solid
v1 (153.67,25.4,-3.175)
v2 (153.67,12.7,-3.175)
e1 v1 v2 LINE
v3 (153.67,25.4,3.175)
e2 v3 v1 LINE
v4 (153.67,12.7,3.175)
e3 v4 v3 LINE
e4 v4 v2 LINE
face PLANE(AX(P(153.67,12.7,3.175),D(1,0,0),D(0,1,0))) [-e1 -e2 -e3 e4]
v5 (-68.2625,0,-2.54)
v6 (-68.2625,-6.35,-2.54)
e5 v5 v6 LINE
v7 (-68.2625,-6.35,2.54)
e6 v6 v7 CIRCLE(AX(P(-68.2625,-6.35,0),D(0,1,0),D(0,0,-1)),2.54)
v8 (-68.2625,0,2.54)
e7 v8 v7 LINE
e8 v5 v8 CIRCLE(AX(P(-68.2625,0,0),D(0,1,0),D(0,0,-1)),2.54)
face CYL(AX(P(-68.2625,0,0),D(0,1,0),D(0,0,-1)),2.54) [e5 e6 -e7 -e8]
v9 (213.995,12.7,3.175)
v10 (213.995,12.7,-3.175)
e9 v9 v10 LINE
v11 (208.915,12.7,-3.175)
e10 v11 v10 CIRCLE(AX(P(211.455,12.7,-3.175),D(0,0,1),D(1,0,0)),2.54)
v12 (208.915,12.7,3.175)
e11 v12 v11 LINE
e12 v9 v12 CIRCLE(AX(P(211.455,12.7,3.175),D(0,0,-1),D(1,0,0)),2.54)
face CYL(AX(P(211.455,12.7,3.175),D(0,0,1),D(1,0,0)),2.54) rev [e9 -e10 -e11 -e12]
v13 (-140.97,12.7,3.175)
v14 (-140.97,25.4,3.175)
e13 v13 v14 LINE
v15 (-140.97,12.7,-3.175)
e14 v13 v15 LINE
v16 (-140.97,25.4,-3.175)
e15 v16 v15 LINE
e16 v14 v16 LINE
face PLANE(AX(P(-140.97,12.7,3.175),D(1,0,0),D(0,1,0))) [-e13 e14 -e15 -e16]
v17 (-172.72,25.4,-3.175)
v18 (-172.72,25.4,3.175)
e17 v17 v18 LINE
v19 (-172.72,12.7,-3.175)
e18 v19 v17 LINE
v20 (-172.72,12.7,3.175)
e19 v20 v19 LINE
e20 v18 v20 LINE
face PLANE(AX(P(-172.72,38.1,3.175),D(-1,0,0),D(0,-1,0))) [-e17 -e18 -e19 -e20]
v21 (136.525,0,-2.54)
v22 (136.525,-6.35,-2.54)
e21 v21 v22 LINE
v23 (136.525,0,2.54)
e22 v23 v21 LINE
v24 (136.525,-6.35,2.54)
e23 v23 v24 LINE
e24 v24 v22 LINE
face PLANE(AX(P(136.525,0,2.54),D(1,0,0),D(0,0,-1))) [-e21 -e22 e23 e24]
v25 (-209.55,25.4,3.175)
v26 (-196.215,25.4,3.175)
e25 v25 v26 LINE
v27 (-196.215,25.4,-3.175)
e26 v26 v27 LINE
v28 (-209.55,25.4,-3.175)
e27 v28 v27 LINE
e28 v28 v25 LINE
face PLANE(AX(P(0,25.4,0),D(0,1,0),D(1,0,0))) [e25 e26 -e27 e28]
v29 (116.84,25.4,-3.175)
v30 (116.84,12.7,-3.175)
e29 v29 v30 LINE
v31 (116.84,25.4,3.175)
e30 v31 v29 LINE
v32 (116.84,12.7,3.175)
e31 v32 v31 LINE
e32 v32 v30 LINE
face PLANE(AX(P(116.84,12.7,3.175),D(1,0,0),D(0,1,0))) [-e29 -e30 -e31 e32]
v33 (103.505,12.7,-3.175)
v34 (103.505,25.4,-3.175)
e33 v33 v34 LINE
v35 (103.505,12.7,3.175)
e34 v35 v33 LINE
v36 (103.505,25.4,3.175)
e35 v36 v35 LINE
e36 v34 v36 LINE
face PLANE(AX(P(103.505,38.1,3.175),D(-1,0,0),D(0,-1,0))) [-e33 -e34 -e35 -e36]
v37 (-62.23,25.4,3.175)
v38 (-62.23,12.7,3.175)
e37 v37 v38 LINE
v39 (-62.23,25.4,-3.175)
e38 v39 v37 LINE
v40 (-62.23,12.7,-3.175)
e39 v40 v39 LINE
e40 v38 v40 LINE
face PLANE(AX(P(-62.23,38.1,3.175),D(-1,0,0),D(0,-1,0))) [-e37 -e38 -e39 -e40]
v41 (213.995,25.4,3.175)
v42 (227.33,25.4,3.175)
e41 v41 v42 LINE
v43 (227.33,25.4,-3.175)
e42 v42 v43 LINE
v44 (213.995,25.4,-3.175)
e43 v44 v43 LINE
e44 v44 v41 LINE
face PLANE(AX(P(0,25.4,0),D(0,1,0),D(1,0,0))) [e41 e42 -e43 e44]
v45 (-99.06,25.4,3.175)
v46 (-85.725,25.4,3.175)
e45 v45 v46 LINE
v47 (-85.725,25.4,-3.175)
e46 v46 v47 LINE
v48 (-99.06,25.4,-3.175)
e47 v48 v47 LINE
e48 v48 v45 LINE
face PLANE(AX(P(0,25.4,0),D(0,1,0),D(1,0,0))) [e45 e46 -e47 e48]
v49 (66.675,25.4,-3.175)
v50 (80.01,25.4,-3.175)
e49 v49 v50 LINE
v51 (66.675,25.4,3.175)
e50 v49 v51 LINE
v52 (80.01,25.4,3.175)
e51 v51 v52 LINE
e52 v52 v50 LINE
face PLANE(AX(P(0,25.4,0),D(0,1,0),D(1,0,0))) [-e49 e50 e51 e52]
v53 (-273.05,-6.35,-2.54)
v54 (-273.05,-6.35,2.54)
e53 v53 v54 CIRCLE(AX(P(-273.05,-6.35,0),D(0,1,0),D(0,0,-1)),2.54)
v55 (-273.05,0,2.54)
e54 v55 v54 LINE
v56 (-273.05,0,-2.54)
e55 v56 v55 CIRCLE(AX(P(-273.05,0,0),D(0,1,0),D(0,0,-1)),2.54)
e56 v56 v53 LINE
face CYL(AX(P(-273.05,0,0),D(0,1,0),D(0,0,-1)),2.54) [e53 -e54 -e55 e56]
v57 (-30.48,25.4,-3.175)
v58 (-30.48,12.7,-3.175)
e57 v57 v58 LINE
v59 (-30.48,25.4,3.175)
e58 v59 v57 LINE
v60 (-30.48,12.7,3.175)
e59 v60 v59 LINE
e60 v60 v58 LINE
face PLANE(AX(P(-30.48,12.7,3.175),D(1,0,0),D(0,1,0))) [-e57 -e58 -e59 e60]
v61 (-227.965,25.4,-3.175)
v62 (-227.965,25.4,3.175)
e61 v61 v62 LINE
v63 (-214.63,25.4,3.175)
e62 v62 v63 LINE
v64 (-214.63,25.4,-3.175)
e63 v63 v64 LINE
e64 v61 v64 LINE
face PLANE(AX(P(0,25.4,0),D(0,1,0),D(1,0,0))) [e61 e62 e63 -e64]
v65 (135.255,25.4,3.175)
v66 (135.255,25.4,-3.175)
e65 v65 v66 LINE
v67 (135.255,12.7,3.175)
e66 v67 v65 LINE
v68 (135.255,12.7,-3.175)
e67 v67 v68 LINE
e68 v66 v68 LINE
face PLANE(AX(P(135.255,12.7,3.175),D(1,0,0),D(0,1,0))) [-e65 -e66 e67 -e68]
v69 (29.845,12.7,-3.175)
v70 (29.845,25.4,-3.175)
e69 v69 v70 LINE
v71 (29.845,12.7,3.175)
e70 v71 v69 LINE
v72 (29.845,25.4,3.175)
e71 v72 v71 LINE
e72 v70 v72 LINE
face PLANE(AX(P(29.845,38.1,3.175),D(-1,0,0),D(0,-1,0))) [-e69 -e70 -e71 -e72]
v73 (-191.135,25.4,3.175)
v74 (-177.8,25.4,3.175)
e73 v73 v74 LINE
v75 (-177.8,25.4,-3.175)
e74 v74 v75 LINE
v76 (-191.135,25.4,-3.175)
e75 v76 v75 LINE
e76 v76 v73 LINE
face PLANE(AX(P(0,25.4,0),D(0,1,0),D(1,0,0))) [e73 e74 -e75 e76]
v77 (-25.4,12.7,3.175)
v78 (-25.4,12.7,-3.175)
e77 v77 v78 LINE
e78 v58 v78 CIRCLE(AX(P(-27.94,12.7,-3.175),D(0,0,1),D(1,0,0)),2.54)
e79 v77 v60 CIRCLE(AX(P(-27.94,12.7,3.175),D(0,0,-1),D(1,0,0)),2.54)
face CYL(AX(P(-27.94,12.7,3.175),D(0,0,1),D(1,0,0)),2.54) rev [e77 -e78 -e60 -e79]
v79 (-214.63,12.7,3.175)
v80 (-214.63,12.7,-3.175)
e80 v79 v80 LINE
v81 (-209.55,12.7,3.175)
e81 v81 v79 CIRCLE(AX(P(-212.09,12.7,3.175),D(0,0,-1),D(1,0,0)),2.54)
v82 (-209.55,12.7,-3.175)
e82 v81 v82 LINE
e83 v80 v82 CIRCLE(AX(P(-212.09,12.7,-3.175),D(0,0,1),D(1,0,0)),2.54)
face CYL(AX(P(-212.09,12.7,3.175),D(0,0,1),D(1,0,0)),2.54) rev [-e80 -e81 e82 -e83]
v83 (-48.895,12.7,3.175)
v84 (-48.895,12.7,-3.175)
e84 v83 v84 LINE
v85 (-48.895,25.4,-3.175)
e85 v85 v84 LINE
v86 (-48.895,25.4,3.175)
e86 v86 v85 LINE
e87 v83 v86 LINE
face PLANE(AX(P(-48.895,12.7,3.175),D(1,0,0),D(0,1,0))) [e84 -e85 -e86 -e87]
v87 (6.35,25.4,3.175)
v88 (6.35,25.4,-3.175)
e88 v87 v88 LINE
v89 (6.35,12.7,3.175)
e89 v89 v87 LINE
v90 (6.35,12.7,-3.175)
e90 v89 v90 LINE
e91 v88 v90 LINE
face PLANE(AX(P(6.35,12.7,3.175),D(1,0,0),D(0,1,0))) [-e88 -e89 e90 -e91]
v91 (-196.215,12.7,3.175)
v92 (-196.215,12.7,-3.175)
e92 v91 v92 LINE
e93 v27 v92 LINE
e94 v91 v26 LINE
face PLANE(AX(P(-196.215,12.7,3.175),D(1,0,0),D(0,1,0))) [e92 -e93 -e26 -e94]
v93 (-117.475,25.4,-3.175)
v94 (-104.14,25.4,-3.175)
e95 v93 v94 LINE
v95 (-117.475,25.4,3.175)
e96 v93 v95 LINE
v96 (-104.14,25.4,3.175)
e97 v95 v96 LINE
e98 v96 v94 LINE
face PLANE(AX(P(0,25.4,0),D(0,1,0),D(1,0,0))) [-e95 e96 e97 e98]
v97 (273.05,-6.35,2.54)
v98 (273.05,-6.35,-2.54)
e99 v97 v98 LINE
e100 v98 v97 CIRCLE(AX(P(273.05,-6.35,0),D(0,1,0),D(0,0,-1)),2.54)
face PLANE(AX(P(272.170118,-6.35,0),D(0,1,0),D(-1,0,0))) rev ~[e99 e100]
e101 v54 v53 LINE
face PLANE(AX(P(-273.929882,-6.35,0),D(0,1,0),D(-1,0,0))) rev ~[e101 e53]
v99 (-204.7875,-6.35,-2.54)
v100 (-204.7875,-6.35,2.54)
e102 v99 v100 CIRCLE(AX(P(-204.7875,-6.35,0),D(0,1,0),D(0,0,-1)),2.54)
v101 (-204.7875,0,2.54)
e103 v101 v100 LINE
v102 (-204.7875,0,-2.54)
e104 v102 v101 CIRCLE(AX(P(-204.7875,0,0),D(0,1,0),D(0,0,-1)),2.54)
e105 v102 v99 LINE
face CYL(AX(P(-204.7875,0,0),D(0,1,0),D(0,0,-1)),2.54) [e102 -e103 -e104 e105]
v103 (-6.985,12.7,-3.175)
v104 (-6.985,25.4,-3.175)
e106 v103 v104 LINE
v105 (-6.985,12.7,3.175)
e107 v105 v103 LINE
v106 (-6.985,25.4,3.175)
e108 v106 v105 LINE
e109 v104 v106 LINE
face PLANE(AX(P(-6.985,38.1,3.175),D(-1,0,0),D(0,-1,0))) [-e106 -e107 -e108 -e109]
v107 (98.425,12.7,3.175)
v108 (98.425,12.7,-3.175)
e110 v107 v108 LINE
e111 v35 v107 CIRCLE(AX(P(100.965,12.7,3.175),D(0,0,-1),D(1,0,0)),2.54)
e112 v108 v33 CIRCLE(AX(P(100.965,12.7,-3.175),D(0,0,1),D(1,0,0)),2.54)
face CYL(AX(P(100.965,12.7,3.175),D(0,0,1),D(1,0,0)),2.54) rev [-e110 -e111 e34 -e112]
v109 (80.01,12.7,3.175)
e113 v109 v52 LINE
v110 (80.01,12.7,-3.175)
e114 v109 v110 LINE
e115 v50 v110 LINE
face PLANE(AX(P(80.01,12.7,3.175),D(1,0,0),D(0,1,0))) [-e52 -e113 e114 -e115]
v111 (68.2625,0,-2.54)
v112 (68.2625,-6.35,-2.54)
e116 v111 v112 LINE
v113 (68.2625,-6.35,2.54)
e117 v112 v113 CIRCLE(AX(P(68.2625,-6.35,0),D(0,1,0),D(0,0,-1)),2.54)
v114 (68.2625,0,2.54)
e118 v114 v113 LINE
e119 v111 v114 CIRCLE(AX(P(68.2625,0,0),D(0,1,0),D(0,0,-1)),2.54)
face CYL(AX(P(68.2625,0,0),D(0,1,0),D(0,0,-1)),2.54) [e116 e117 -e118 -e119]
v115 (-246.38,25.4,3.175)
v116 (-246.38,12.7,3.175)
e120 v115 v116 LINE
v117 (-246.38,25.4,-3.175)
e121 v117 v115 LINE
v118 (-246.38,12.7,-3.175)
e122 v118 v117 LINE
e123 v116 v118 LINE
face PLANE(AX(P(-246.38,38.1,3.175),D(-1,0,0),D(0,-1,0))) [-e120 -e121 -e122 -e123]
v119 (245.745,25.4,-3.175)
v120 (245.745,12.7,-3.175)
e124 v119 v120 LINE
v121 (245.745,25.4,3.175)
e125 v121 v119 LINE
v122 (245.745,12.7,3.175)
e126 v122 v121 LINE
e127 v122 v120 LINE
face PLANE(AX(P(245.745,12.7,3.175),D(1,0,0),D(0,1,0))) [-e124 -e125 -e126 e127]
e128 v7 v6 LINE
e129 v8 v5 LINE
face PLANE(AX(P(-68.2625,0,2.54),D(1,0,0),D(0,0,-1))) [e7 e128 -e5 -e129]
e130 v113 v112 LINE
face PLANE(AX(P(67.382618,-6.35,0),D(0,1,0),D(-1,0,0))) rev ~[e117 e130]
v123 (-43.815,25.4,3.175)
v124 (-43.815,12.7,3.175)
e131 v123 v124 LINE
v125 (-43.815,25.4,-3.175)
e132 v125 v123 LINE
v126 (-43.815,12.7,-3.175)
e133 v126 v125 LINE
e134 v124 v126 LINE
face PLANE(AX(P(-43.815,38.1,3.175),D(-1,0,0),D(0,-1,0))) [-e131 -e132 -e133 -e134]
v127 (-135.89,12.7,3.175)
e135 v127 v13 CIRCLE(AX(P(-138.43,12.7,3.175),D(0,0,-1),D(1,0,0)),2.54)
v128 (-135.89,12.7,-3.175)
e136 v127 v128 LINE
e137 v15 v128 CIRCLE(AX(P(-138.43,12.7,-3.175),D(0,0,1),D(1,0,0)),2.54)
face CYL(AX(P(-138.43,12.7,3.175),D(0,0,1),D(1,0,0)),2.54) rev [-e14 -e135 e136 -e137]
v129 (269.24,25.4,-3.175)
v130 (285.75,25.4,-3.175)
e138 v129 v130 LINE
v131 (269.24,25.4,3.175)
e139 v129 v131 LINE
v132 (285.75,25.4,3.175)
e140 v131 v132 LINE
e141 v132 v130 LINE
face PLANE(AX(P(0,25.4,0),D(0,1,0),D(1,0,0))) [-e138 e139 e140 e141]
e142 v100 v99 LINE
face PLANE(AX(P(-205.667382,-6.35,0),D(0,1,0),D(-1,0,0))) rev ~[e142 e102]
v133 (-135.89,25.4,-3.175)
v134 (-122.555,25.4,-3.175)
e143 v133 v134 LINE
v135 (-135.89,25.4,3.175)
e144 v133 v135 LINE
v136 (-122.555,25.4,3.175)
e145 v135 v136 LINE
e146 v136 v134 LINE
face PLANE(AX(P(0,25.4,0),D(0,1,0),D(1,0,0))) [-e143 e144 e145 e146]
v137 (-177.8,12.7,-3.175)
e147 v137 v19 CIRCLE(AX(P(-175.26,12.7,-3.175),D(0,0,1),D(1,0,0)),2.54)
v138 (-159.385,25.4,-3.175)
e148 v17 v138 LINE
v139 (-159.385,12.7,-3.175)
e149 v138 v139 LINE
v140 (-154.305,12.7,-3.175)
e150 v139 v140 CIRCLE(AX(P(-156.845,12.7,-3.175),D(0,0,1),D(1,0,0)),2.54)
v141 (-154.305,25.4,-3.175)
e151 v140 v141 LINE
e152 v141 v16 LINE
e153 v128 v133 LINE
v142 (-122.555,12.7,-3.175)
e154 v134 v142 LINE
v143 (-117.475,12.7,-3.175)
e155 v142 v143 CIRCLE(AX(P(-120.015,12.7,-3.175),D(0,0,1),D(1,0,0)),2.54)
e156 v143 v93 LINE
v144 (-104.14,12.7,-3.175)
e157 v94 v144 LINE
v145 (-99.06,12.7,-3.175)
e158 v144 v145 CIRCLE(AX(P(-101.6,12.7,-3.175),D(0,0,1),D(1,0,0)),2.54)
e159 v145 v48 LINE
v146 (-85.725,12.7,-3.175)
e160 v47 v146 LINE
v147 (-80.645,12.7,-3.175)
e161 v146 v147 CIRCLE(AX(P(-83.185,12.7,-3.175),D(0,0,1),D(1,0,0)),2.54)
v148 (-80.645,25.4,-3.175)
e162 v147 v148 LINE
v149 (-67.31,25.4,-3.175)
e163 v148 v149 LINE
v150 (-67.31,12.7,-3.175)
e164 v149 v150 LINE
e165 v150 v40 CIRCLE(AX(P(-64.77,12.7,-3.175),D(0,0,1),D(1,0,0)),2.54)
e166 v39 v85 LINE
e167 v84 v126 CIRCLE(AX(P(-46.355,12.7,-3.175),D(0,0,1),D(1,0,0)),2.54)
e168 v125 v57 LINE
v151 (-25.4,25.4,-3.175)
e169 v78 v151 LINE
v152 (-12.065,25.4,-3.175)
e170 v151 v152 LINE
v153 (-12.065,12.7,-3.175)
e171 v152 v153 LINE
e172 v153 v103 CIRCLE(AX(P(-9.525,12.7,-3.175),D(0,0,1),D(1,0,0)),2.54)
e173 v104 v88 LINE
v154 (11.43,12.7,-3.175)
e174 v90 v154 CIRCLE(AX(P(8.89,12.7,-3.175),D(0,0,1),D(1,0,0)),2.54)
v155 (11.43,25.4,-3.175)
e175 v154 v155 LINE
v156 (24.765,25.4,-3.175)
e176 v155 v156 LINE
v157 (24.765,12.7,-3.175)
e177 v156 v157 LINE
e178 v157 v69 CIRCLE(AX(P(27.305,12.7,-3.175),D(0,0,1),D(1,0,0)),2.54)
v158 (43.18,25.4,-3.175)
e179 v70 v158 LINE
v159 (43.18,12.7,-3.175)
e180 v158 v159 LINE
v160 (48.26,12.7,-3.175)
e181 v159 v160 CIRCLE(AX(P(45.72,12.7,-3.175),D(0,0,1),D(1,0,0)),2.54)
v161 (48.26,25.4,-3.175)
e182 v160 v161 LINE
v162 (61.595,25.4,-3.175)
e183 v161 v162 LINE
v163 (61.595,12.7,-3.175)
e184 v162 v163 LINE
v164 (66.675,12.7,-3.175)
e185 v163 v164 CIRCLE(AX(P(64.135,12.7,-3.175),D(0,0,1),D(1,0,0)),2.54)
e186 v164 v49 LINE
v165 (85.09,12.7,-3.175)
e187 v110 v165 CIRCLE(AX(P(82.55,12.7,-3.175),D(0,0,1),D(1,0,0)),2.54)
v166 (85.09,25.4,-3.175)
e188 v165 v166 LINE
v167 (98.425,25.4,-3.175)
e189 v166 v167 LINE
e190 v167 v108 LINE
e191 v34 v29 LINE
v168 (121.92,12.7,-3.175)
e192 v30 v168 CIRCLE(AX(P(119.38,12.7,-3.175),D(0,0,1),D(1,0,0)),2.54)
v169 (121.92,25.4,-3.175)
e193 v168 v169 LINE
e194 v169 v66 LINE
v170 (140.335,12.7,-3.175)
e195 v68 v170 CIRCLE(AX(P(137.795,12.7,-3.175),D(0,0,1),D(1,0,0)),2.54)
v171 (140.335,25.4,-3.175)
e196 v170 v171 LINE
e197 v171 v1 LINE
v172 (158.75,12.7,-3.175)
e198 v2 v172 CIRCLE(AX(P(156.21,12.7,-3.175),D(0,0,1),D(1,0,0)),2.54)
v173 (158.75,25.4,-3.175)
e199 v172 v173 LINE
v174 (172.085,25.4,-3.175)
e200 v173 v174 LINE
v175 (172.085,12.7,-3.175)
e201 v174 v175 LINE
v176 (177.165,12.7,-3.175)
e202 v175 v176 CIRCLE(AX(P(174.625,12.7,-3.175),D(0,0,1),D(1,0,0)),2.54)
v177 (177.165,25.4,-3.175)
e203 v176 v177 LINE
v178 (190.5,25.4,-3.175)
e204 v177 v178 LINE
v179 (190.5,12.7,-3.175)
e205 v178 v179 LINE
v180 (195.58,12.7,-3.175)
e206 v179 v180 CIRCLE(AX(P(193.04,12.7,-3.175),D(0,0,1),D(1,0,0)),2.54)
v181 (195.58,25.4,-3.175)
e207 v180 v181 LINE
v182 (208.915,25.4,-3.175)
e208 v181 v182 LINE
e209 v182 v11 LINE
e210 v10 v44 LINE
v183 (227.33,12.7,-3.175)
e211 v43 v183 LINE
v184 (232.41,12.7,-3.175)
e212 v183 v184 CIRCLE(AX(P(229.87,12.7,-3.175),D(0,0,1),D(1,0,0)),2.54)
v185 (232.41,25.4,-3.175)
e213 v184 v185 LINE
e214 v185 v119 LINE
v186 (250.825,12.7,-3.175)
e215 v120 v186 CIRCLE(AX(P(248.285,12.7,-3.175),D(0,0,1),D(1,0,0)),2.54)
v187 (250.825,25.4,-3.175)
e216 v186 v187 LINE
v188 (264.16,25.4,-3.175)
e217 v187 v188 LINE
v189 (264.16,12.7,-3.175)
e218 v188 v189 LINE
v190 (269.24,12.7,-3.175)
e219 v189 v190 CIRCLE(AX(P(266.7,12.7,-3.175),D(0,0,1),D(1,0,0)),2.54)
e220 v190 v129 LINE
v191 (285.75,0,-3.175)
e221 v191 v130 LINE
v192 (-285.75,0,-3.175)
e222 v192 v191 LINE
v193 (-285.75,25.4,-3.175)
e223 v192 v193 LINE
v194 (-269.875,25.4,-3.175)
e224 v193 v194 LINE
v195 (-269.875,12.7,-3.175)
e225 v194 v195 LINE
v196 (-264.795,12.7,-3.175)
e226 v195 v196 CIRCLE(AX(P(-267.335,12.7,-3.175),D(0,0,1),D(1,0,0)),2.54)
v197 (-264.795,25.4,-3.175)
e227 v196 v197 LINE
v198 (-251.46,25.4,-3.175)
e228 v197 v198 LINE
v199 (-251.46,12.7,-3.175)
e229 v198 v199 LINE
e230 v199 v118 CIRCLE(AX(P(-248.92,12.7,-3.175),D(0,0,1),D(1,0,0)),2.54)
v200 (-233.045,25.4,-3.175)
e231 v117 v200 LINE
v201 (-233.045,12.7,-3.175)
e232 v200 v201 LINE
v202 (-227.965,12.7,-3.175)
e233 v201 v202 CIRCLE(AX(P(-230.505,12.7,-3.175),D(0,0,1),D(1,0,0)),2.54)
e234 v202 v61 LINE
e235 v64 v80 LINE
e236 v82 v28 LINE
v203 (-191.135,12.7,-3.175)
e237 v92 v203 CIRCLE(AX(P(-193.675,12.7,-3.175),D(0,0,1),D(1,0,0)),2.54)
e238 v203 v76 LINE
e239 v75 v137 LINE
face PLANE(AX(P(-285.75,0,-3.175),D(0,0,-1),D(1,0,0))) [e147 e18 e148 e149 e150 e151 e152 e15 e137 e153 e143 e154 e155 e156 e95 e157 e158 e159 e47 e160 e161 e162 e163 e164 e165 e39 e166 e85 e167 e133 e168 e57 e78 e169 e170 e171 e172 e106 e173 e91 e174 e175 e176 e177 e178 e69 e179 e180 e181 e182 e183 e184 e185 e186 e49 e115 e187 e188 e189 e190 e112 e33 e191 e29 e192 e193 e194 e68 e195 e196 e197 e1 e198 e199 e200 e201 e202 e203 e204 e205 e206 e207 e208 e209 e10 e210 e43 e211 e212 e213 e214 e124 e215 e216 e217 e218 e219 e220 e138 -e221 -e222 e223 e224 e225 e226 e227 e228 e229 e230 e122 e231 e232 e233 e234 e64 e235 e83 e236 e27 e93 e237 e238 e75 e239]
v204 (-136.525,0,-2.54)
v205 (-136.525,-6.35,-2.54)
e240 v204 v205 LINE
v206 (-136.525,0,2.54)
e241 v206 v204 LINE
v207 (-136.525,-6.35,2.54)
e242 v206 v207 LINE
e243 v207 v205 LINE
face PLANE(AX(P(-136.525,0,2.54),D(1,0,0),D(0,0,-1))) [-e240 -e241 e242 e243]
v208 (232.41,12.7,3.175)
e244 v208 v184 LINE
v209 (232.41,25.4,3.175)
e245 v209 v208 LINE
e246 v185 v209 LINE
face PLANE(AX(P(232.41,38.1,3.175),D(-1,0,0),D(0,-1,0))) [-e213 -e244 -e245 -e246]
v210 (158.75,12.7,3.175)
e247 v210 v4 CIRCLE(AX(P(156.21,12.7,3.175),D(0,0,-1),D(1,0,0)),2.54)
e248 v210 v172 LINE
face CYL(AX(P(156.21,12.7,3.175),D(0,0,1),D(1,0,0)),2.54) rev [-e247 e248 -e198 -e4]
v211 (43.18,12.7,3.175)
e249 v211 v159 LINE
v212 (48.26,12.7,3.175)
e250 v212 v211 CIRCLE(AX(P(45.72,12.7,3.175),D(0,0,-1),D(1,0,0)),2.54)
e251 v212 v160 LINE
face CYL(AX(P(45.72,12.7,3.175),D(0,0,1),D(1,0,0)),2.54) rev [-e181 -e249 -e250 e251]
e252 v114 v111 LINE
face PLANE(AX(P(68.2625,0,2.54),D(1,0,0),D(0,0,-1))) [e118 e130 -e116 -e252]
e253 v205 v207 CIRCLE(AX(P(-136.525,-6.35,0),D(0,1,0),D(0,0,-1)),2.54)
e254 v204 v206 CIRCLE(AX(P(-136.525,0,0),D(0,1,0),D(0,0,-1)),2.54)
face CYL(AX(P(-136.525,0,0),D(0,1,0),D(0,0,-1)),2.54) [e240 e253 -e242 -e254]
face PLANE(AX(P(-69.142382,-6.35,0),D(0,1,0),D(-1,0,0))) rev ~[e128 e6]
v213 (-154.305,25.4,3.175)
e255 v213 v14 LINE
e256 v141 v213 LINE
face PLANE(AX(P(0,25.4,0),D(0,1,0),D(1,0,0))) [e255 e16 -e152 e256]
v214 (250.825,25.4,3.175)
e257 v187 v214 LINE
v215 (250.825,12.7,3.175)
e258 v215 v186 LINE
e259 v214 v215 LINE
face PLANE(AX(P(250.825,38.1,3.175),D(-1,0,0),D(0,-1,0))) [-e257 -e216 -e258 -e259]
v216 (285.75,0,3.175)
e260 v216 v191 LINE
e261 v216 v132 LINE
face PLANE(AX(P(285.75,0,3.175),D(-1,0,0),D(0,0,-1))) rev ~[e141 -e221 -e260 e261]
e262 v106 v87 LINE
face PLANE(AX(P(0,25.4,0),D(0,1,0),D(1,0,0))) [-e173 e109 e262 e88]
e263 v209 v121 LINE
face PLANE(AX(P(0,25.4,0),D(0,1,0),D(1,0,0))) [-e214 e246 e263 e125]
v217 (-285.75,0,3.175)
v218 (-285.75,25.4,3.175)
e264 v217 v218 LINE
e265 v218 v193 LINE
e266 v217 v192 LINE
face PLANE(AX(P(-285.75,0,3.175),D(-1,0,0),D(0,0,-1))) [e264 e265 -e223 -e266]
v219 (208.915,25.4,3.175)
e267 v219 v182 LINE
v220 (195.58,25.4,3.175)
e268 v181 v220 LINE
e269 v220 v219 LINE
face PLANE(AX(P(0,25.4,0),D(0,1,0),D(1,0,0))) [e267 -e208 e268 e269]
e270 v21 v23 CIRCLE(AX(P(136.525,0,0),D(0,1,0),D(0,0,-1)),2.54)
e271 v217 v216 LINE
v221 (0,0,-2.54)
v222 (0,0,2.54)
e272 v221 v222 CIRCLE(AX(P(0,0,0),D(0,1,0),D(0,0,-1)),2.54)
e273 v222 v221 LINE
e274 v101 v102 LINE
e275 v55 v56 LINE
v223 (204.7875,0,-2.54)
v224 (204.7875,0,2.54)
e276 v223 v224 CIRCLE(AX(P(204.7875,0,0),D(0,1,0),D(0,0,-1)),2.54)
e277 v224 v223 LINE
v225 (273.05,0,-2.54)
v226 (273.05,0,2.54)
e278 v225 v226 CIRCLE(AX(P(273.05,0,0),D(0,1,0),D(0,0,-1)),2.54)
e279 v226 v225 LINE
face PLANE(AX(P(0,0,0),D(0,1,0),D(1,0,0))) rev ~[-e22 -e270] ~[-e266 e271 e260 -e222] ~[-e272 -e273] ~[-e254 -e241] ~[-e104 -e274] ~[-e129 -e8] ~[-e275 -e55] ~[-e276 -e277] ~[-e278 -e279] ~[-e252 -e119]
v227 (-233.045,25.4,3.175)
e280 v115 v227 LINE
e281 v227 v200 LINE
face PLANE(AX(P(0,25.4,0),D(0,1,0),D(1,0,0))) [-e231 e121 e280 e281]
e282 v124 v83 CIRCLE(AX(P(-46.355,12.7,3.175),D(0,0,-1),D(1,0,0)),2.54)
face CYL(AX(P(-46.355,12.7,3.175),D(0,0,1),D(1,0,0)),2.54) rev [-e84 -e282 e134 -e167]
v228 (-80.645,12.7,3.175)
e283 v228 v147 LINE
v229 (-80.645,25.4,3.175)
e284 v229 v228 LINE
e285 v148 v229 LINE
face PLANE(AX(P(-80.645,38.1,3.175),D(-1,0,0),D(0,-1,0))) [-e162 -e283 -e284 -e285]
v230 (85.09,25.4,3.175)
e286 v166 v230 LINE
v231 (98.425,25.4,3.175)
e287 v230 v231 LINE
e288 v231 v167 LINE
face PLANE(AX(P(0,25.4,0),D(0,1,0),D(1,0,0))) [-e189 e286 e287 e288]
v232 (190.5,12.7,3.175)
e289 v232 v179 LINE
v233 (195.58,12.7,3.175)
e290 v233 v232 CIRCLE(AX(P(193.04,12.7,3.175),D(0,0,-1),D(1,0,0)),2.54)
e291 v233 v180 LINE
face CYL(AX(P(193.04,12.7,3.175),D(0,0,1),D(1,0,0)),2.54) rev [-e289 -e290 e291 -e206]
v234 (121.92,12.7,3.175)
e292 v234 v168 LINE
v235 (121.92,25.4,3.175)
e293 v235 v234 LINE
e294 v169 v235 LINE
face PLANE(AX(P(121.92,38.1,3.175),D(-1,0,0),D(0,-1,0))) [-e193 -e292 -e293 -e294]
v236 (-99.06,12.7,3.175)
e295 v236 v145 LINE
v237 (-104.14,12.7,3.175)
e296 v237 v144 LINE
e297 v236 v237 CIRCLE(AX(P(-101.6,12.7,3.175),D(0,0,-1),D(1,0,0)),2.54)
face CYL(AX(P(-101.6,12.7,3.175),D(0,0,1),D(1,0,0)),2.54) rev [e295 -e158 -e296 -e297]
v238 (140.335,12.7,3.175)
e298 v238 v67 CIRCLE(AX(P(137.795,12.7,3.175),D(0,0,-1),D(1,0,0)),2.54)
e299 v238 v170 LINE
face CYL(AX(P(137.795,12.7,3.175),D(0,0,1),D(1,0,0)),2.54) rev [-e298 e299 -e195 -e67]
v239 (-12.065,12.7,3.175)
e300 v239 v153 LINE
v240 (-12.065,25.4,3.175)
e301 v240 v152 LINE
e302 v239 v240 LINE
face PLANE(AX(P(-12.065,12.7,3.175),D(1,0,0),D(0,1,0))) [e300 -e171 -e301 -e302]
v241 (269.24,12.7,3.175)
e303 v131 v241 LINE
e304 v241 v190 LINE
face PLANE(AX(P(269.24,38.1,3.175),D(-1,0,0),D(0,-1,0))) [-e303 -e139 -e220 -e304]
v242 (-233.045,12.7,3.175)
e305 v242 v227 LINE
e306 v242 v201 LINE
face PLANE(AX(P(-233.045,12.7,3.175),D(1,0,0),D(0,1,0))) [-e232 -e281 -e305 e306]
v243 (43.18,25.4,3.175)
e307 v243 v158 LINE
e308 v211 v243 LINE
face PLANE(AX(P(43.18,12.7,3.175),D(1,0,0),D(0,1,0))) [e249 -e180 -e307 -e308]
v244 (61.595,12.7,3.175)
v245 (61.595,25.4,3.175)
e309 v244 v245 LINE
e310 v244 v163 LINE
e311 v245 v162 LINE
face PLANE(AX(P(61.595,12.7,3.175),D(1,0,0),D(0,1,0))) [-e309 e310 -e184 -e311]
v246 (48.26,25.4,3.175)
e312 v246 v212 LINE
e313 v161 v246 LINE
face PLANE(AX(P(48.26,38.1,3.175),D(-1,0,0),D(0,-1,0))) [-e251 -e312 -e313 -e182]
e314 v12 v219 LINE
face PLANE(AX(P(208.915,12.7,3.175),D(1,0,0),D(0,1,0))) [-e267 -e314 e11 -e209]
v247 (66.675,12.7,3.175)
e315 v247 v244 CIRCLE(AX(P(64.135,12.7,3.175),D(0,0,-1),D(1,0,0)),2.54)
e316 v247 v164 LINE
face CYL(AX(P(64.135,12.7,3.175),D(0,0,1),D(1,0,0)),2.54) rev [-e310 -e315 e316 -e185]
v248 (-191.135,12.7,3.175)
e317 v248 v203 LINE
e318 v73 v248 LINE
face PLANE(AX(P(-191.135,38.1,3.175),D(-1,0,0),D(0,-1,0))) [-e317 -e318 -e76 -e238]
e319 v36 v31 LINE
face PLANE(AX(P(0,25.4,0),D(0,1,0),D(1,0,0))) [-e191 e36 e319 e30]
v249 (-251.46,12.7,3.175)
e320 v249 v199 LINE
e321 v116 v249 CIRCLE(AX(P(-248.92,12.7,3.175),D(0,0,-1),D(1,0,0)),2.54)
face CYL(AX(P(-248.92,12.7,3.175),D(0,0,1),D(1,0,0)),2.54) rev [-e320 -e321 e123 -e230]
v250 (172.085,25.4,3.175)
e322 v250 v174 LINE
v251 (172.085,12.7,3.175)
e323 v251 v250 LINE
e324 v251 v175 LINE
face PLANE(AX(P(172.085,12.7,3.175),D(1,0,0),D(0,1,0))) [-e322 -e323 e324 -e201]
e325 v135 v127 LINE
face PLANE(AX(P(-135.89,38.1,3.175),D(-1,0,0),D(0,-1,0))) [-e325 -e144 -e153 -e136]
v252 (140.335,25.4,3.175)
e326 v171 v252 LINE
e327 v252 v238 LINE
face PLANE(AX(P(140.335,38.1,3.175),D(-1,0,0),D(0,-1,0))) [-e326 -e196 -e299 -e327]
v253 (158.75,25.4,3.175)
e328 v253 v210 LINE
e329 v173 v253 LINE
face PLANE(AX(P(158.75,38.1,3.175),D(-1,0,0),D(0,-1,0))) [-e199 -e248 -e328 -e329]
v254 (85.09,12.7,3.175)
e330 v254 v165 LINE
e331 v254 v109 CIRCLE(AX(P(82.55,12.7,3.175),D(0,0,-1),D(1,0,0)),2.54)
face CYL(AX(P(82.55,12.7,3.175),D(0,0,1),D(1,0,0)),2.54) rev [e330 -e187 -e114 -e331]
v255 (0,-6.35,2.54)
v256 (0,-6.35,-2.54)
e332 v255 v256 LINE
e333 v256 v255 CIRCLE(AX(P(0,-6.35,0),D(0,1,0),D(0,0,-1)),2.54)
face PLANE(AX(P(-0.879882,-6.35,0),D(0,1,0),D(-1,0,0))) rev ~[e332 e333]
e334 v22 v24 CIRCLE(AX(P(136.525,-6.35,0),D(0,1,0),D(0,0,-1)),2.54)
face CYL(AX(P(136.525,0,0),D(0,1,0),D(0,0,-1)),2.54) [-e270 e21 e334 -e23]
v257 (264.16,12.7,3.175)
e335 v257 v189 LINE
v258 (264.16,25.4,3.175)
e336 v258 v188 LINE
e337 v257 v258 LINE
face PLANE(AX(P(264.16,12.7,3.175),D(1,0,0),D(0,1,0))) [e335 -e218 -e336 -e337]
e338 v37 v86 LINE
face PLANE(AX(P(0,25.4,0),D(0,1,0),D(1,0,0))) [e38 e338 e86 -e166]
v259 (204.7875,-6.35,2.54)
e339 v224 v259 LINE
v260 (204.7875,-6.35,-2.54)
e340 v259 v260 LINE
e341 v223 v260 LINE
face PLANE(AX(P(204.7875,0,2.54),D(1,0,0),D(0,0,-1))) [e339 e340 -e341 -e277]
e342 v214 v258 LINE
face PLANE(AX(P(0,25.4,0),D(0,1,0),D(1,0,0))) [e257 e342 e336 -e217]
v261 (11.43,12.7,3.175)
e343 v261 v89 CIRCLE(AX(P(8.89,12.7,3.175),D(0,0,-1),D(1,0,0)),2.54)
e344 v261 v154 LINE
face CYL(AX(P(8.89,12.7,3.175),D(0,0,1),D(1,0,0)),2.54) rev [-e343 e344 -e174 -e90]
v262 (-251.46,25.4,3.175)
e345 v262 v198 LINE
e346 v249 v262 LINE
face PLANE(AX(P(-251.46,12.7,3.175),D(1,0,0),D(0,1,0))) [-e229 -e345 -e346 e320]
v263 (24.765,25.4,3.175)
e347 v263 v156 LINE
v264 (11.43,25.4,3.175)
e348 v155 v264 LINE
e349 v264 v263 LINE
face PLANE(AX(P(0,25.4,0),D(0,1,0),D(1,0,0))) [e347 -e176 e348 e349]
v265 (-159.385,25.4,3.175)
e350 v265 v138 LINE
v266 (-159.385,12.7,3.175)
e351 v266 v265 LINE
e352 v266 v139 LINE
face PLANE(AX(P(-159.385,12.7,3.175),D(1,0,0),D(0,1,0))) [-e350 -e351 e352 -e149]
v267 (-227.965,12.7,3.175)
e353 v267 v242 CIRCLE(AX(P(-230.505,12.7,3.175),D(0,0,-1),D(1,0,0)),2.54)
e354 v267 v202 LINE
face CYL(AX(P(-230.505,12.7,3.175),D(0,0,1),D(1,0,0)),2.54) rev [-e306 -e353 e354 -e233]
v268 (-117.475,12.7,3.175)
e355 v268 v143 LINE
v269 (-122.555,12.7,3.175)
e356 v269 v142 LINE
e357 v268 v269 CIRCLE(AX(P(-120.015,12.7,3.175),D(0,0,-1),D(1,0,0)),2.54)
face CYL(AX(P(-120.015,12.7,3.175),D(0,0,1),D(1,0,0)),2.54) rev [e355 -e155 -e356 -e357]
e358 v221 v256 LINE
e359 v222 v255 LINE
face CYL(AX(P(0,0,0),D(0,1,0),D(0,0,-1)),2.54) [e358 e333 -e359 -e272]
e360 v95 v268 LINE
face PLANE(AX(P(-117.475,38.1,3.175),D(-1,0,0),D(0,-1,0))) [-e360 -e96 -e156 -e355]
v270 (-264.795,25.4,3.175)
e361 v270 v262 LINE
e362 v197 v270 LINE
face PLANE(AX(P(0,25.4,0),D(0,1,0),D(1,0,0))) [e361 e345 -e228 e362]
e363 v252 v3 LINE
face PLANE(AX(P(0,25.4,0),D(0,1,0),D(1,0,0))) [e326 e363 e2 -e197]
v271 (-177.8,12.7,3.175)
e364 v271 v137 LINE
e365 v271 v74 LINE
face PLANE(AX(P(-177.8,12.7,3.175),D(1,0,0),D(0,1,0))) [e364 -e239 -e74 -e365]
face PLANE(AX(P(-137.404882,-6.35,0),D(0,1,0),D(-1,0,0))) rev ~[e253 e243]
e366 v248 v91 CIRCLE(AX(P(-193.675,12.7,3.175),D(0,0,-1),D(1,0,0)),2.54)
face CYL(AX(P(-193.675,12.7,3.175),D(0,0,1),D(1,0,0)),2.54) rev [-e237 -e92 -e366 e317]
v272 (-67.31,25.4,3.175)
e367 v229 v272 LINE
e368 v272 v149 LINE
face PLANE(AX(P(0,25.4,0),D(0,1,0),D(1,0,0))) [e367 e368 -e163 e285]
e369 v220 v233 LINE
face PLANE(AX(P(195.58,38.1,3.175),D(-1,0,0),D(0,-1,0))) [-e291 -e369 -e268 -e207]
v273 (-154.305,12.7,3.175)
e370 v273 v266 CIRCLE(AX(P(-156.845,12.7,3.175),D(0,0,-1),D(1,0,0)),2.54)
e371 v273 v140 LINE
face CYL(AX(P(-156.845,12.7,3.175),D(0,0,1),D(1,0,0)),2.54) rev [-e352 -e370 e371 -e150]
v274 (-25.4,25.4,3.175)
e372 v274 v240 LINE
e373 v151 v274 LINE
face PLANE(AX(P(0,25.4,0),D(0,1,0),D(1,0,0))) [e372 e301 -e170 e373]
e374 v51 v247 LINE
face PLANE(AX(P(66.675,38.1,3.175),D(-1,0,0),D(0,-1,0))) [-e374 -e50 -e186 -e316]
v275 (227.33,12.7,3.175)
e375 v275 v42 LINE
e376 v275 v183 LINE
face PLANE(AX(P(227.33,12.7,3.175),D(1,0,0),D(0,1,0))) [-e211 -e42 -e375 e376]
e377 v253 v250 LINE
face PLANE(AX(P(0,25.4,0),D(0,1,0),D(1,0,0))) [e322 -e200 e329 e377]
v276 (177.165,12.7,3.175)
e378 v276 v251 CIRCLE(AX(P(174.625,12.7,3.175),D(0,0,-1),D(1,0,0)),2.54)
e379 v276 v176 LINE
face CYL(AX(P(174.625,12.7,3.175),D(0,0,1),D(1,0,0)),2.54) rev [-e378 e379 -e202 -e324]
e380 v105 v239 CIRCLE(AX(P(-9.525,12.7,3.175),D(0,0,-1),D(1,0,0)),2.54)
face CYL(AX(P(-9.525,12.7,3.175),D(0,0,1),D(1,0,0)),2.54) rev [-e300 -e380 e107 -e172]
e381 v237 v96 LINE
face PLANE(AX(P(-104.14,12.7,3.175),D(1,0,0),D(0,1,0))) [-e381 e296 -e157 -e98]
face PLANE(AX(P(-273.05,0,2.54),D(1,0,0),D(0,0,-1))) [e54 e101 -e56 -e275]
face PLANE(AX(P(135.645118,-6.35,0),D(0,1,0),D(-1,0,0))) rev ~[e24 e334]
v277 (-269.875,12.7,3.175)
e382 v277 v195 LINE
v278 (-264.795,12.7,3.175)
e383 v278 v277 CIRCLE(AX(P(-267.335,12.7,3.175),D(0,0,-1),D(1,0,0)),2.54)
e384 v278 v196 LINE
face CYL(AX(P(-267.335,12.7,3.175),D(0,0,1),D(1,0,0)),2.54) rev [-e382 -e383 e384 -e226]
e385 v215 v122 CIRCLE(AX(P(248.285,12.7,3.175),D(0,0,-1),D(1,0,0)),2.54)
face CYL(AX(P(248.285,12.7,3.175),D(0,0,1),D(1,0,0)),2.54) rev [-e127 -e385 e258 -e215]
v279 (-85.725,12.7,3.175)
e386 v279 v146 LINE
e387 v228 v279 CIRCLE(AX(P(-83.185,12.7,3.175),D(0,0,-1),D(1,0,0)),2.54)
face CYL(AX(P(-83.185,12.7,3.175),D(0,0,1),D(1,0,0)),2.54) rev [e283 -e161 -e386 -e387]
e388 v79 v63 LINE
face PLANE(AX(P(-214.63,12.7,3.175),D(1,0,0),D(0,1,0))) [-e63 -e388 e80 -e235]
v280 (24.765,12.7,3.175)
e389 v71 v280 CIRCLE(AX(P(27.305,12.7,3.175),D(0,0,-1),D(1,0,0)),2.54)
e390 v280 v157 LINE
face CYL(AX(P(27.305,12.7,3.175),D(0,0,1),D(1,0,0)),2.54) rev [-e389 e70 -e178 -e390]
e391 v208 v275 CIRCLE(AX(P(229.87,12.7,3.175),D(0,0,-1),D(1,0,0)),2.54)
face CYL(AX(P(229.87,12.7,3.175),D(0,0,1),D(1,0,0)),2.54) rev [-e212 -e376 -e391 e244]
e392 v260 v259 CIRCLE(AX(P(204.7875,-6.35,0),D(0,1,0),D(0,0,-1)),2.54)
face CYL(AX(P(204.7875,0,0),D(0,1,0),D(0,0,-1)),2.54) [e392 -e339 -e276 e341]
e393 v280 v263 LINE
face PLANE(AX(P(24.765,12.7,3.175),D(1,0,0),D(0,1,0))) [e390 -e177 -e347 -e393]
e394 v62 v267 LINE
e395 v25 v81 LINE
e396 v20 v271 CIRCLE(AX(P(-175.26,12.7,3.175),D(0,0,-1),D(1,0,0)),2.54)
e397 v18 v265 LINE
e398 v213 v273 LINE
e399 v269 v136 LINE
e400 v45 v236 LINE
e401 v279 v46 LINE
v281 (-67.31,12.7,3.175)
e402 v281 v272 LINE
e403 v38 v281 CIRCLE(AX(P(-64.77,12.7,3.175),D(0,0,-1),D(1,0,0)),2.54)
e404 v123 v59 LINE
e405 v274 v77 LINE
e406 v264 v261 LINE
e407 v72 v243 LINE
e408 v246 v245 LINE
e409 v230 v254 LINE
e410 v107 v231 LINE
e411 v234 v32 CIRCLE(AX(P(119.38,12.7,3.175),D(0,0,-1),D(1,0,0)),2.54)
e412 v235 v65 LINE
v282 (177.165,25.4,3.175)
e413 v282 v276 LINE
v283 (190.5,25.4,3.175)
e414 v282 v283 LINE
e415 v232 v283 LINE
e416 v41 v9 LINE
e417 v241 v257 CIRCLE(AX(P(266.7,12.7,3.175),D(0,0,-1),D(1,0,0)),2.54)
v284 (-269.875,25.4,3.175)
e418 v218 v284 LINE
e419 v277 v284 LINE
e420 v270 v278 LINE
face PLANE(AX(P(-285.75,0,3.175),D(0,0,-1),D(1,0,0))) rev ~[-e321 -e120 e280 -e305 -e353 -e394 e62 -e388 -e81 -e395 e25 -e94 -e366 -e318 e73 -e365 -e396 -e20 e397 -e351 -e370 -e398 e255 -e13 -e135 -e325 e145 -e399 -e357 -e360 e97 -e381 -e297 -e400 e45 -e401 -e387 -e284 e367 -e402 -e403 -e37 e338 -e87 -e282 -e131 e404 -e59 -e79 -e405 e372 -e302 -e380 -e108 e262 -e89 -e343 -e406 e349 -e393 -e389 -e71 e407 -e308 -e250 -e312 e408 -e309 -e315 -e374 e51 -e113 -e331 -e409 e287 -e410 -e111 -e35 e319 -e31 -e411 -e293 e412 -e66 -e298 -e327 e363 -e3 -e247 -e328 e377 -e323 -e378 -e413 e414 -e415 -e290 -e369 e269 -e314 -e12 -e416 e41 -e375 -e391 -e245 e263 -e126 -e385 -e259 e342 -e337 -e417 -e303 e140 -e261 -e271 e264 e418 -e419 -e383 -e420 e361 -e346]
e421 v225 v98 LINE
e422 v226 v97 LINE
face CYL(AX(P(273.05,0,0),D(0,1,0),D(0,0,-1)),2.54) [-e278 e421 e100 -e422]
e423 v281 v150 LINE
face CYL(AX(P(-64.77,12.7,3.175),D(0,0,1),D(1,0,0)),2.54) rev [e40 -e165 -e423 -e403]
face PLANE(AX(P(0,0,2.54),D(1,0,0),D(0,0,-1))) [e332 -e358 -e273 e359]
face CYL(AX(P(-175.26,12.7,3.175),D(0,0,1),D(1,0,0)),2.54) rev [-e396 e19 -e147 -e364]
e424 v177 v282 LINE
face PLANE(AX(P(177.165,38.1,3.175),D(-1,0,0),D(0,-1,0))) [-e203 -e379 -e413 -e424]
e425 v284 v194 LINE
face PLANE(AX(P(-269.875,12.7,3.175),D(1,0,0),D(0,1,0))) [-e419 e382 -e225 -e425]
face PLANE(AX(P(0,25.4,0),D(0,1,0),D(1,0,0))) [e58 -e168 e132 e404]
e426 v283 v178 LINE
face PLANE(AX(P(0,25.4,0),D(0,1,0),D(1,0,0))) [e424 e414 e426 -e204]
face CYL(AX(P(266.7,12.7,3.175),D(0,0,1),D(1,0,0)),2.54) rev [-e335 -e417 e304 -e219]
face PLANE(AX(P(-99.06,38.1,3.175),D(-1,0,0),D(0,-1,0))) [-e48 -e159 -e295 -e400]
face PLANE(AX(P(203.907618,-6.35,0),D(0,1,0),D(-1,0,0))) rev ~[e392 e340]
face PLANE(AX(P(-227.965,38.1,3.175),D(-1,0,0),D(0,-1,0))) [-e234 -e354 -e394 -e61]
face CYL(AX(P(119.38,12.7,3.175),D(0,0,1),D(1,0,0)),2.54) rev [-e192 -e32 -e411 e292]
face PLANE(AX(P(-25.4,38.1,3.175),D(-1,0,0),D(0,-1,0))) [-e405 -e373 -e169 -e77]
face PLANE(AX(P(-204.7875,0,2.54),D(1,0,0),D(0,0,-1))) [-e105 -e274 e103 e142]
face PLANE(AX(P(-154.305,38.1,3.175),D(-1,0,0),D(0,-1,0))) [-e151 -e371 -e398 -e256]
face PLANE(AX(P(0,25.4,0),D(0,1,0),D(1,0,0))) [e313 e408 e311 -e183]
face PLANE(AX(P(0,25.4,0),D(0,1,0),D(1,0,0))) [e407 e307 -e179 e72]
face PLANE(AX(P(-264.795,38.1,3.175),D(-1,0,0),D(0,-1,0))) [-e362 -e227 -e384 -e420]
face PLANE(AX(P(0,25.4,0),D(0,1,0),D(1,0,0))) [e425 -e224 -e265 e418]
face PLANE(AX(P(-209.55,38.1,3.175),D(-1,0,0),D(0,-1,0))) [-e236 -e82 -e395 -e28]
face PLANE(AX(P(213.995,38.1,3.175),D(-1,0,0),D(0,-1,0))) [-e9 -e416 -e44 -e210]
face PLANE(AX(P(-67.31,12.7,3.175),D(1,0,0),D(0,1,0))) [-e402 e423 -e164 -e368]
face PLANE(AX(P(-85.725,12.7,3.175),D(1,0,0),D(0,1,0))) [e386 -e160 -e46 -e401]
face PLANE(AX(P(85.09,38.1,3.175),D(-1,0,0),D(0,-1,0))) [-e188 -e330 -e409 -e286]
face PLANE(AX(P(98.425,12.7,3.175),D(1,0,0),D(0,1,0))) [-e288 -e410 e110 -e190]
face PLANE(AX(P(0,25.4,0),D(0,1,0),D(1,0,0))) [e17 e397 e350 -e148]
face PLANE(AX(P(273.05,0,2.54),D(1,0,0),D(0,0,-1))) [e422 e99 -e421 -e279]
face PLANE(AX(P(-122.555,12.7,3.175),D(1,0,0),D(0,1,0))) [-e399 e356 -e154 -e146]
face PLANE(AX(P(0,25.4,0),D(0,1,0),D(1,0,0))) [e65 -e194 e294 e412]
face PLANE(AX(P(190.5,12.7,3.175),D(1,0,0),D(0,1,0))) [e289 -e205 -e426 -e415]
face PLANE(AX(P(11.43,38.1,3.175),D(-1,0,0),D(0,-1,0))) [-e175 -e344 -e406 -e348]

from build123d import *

# Parameters (mm, degrees)
SKETCH1_W           = 571.5
SKETCH1_H           = 6.35
BOSS_EXTRUDE1_DEPTH = 25.4
BOSS_EXTRUDE2_DEPTH = 6.35
CUT_EXTRUDE1_DEPTH  = 287.946937603


with BuildPart() as part:
    # Sketch1 → Boss-Extrude1 (new body)
    with BuildSketch(Plane(origin=(0, 0, 0), x_dir=(1, 0, 0), z_dir=(0, 1, 0))):
        Rectangle(SKETCH1_W, SKETCH1_H)
    extrude(amount=BOSS_EXTRUDE1_DEPTH)

    # Sketch2 → Boss-Extrude2 (add)
    with BuildSketch(Plane.XZ):
        with BuildLine():
            Line((-273.05, 2.54), (-273.05, -2.54))
            ThreePointArc((-273.05, -2.54), (-275.59, 0), (-273.05, 2.54))
        make_face()
        with BuildLine():
            Line((-204.7875, 2.54), (-204.7875, -2.54))
            ThreePointArc((-204.7875, -2.54), (-207.3275, 0), (-204.7875, 2.54))
        make_face()
        with BuildLine():
            Line((-136.525, 2.54), (-136.525, -2.54))
            ThreePointArc((-136.525, -2.54), (-139.065, 0), (-136.525, 2.54))
        make_face()
        with BuildLine():
            Line((-68.2625, 2.54), (-68.2625, -2.54))
            ThreePointArc((-68.2625, -2.54), (-70.8025, 0), (-68.2625, 2.54))
        make_face()
        with BuildLine():
            Line((0, 2.54), (0, -2.54))
            ThreePointArc((0, -2.54), (-2.54, 0), (0, 2.54))
        make_face()
        with BuildLine():
            Line((68.2625, 2.54), (68.2625, -2.54))
            ThreePointArc((68.2625, -2.54), (65.7225, 0), (68.2625, 2.54))
        make_face()
        with BuildLine():
            Line((136.525, 2.54), (136.525, -2.54))
            ThreePointArc((136.525, -2.54), (133.985, 0), (136.525, 2.54))
        make_face()
        with BuildLine():
            Line((204.7875, 2.54), (204.7875, -2.54))
            ThreePointArc((204.7875, -2.54), (202.2475, 0), (204.7875, 2.54))
        make_face()
        with BuildLine():
            Line((273.05, 2.54), (273.05, -2.54))
            ThreePointArc((273.05, -2.54), (270.51, 0), (273.05, 2.54))
        make_face()
    extrude(amount=BOSS_EXTRUDE2_DEPTH)

    # Sketch3 → Cut-Extrude1 (cut, through all)
    with BuildSketch(Plane.XY.offset(3.175)):
        with BuildLine():
            Line((-264.795, 38.1), (-264.795, 12.7))
            ThreePointArc((-264.795, 12.7), (-267.335, 10.16), (-269.875, 12.7))
            Line((-269.875, 12.7), (-269.875, 38.1))
            ThreePointArc((-269.875, 38.1), (-267.335, 40.64), (-264.795, 38.1))
        make_face()
        with BuildLine():
            Line((-246.38, 38.1), (-246.38, 12.7))
            ThreePointArc((-246.38, 12.7), (-248.92, 10.16), (-251.46, 12.7))
            Line((-251.46, 12.7), (-251.46, 38.1))
            ThreePointArc((-251.46, 38.1), (-248.92, 40.64), (-246.38, 38.1))
        make_face()
        with BuildLine():
            Line((-227.965, 38.1), (-227.965, 12.7))
            ThreePointArc((-227.965, 12.7), (-230.505, 10.16), (-233.045, 12.7))
            Line((-233.045, 12.7), (-233.045, 38.1))
            ThreePointArc((-233.045, 38.1), (-230.505, 40.64), (-227.965, 38.1))
        make_face()
        with BuildLine():
            Line((-209.55, 38.1), (-209.55, 12.7))
            ThreePointArc((-209.55, 12.7), (-212.09, 10.16), (-214.63, 12.7))
            Line((-214.63, 12.7), (-214.63, 38.1))
            ThreePointArc((-214.63, 38.1), (-212.09, 40.64), (-209.55, 38.1))
        make_face()
        with BuildLine():
            Line((-191.135, 38.1), (-191.135, 12.7))
            ThreePointArc((-191.135, 12.7), (-193.675, 10.16), (-196.215, 12.7))
            Line((-196.215, 12.7), (-196.215, 38.1))
            ThreePointArc((-196.215, 38.1), (-193.675, 40.64), (-191.135, 38.1))
        make_face()
        with BuildLine():
            Line((-172.72, 38.1), (-172.72, 12.7))
            ThreePointArc((-172.72, 12.7), (-175.26, 10.16), (-177.8, 12.7))
            Line((-177.8, 12.7), (-177.8, 38.1))
            ThreePointArc((-177.8, 38.1), (-175.26, 40.64), (-172.72, 38.1))
        make_face()
        with BuildLine():
            Line((-154.305, 38.1), (-154.305, 12.7))
            ThreePointArc((-154.305, 12.7), (-156.845, 10.16), (-159.385, 12.7))
            Line((-159.385, 12.7), (-159.385, 38.1))
            ThreePointArc((-159.385, 38.1), (-156.845, 40.64), (-154.305, 38.1))
        make_face()
        with BuildLine():
            Line((-135.89, 38.1), (-135.89, 12.7))
            ThreePointArc((-135.89, 12.7), (-138.43, 10.16), (-140.97, 12.7))
            Line((-140.97, 12.7), (-140.97, 38.1))
            ThreePointArc((-140.97, 38.1), (-138.43, 40.64), (-135.89, 38.1))
        make_face()
        with BuildLine():
            Line((-117.475, 38.1), (-117.475, 12.7))
            ThreePointArc((-117.475, 12.7), (-120.015, 10.16), (-122.555, 12.7))
            Line((-122.555, 12.7), (-122.555, 38.1))
            ThreePointArc((-122.555, 38.1), (-120.015, 40.64), (-117.475, 38.1))
        make_face()
        with BuildLine():
            Line((-99.06, 38.1), (-99.06, 12.7))
            ThreePointArc((-99.06, 12.7), (-101.6, 10.16), (-104.14, 12.7))
            Line((-104.14, 12.7), (-104.14, 38.1))
            ThreePointArc((-104.14, 38.1), (-101.6, 40.64), (-99.06, 38.1))
        make_face()
        with BuildLine():
            Line((-80.645, 38.1), (-80.645, 12.7))
            ThreePointArc((-80.645, 12.7), (-83.185, 10.16), (-85.725, 12.7))
            Line((-85.725, 12.7), (-85.725, 38.1))
            ThreePointArc((-85.725, 38.1), (-83.185, 40.64), (-80.645, 38.1))
        make_face()
        with BuildLine():
            Line((-62.23, 38.1), (-62.23, 12.7))
            ThreePointArc((-62.23, 12.7), (-64.77, 10.16), (-67.31, 12.7))
            Line((-67.31, 12.7), (-67.31, 38.1))
            ThreePointArc((-67.31, 38.1), (-64.77, 40.64), (-62.23, 38.1))
        make_face()
        with BuildLine():
            Line((-43.815, 38.1), (-43.815, 12.7))
            ThreePointArc((-43.815, 12.7), (-46.355, 10.16), (-48.895, 12.7))
            Line((-48.895, 12.7), (-48.895, 38.1))
            ThreePointArc((-48.895, 38.1), (-46.355, 40.64), (-43.815, 38.1))
        make_face()
        with BuildLine():
            Line((-25.4, 38.1), (-25.4, 12.7))
            ThreePointArc((-25.4, 12.7), (-27.94, 10.16), (-30.48, 12.7))
            Line((-30.48, 12.7), (-30.48, 38.1))
            ThreePointArc((-30.48, 38.1), (-27.94, 40.64), (-25.4, 38.1))
        make_face()
        with BuildLine():
            Line((-6.985, 38.1), (-6.985, 12.7))
            ThreePointArc((-6.985, 12.7), (-9.525, 10.16), (-12.065, 12.7))
            Line((-12.065, 12.7), (-12.065, 38.1))
            ThreePointArc((-12.065, 38.1), (-9.525, 40.64), (-6.985, 38.1))
        make_face()
        with BuildLine():
            Line((11.43, 38.1), (11.43, 12.7))
            ThreePointArc((11.43, 12.7), (8.89, 10.16), (6.35, 12.7))
            Line((6.35, 12.7), (6.35, 38.1))
            ThreePointArc((6.35, 38.1), (8.89, 40.64), (11.43, 38.1))
        make_face()
        with BuildLine():
            Line((29.845, 38.1), (29.845, 12.7))
            ThreePointArc((29.845, 12.7), (27.305, 10.16), (24.765, 12.7))
            Line((24.765, 12.7), (24.765, 38.1))
            ThreePointArc((24.765, 38.1), (27.305, 40.64), (29.845, 38.1))
        make_face()
        with BuildLine():
            Line((48.26, 38.1), (48.26, 12.7))
            ThreePointArc((48.26, 12.7), (45.72, 10.16), (43.18, 12.7))
            Line((43.18, 12.7), (43.18, 38.1))
            ThreePointArc((43.18, 38.1), (45.72, 40.64), (48.26, 38.1))
        make_face()
        with BuildLine():
            Line((66.675, 38.1), (66.675, 12.7))
            ThreePointArc((66.675, 12.7), (64.135, 10.16), (61.595, 12.7))
            Line((61.595, 12.7), (61.595, 38.1))
            ThreePointArc((61.595, 38.1), (64.135, 40.64), (66.675, 38.1))
        make_face()
        with BuildLine():
            Line((85.09, 38.1), (85.09, 12.7))
            ThreePointArc((85.09, 12.7), (82.55, 10.16), (80.01, 12.7))
            Line((80.01, 12.7), (80.01, 38.1))
            ThreePointArc((80.01, 38.1), (82.55, 40.64), (85.09, 38.1))
        make_face()
        with BuildLine():
            Line((103.505, 38.1), (103.505, 12.7))
            ThreePointArc((103.505, 12.7), (100.965, 10.16), (98.425, 12.7))
            Line((98.425, 12.7), (98.425, 38.1))
            ThreePointArc((98.425, 38.1), (100.965, 40.64), (103.505, 38.1))
        make_face()
        with BuildLine():
            Line((121.92, 38.1), (121.92, 12.7))
            ThreePointArc((121.92, 12.7), (119.38, 10.16), (116.84, 12.7))
            Line((116.84, 12.7), (116.84, 38.1))
            ThreePointArc((116.84, 38.1), (119.38, 40.64), (121.92, 38.1))
        make_face()
        with BuildLine():
            Line((140.335, 38.1), (140.335, 12.7))
            ThreePointArc((140.335, 12.7), (137.795, 10.16), (135.255, 12.7))
            Line((135.255, 12.7), (135.255, 38.1))
            ThreePointArc((135.255, 38.1), (137.795, 40.64), (140.335, 38.1))
        make_face()
        with BuildLine():
            Line((158.75, 38.1), (158.75, 12.7))
            ThreePointArc((158.75, 12.7), (156.21, 10.16), (153.67, 12.7))
            Line((153.67, 12.7), (153.67, 38.1))
            ThreePointArc((153.67, 38.1), (156.21, 40.64), (158.75, 38.1))
        make_face()
        with BuildLine():
            Line((177.165, 38.1), (177.165, 12.7))
            ThreePointArc((177.165, 12.7), (174.625, 10.16), (172.085, 12.7))
            Line((172.085, 12.7), (172.085, 38.1))
            ThreePointArc((172.085, 38.1), (174.625, 40.64), (177.165, 38.1))
        make_face()
        with BuildLine():
            Line((195.58, 38.1), (195.58, 12.7))
            ThreePointArc((195.58, 12.7), (193.04, 10.16), (190.5, 12.7))
            Line((190.5, 12.7), (190.5, 38.1))
            ThreePointArc((190.5, 38.1), (193.04, 40.64), (195.58, 38.1))
        make_face()
        with BuildLine():
            Line((213.995, 38.1), (213.995, 12.7))
            ThreePointArc((213.995, 12.7), (211.455, 10.16), (208.915, 12.7))
            Line((208.915, 12.7), (208.915, 38.1))
            ThreePointArc((208.915, 38.1), (211.455, 40.64), (213.995, 38.1))
        make_face()
        with BuildLine():
            Line((232.41, 38.1), (232.41, 12.7))
            ThreePointArc((232.41, 12.7), (229.87, 10.16), (227.33, 12.7))
            Line((227.33, 12.7), (227.33, 38.1))
            ThreePointArc((227.33, 38.1), (229.87, 40.64), (232.41, 38.1))
        make_face()
        with BuildLine():
            Line((250.825, 38.1), (250.825, 12.7))
            ThreePointArc((250.825, 12.7), (248.285, 10.16), (245.745, 12.7))
            Line((245.745, 12.7), (245.745, 38.1))
            ThreePointArc((245.745, 38.1), (248.285, 40.64), (250.825, 38.1))
        make_face()
        with BuildLine():
            Line((269.24, 38.1), (269.24, 12.7))
            ThreePointArc((269.24, 12.7), (266.7, 10.16), (264.16, 12.7))
            Line((264.16, 12.7), (264.16, 38.1))
            ThreePointArc((264.16, 38.1), (266.7, 40.64), (269.24, 38.1))
        make_face()
    extrude(amount=-CUT_EXTRUDE1_DEPTH, mode=Mode.SUBTRACT)


solid = part.part
